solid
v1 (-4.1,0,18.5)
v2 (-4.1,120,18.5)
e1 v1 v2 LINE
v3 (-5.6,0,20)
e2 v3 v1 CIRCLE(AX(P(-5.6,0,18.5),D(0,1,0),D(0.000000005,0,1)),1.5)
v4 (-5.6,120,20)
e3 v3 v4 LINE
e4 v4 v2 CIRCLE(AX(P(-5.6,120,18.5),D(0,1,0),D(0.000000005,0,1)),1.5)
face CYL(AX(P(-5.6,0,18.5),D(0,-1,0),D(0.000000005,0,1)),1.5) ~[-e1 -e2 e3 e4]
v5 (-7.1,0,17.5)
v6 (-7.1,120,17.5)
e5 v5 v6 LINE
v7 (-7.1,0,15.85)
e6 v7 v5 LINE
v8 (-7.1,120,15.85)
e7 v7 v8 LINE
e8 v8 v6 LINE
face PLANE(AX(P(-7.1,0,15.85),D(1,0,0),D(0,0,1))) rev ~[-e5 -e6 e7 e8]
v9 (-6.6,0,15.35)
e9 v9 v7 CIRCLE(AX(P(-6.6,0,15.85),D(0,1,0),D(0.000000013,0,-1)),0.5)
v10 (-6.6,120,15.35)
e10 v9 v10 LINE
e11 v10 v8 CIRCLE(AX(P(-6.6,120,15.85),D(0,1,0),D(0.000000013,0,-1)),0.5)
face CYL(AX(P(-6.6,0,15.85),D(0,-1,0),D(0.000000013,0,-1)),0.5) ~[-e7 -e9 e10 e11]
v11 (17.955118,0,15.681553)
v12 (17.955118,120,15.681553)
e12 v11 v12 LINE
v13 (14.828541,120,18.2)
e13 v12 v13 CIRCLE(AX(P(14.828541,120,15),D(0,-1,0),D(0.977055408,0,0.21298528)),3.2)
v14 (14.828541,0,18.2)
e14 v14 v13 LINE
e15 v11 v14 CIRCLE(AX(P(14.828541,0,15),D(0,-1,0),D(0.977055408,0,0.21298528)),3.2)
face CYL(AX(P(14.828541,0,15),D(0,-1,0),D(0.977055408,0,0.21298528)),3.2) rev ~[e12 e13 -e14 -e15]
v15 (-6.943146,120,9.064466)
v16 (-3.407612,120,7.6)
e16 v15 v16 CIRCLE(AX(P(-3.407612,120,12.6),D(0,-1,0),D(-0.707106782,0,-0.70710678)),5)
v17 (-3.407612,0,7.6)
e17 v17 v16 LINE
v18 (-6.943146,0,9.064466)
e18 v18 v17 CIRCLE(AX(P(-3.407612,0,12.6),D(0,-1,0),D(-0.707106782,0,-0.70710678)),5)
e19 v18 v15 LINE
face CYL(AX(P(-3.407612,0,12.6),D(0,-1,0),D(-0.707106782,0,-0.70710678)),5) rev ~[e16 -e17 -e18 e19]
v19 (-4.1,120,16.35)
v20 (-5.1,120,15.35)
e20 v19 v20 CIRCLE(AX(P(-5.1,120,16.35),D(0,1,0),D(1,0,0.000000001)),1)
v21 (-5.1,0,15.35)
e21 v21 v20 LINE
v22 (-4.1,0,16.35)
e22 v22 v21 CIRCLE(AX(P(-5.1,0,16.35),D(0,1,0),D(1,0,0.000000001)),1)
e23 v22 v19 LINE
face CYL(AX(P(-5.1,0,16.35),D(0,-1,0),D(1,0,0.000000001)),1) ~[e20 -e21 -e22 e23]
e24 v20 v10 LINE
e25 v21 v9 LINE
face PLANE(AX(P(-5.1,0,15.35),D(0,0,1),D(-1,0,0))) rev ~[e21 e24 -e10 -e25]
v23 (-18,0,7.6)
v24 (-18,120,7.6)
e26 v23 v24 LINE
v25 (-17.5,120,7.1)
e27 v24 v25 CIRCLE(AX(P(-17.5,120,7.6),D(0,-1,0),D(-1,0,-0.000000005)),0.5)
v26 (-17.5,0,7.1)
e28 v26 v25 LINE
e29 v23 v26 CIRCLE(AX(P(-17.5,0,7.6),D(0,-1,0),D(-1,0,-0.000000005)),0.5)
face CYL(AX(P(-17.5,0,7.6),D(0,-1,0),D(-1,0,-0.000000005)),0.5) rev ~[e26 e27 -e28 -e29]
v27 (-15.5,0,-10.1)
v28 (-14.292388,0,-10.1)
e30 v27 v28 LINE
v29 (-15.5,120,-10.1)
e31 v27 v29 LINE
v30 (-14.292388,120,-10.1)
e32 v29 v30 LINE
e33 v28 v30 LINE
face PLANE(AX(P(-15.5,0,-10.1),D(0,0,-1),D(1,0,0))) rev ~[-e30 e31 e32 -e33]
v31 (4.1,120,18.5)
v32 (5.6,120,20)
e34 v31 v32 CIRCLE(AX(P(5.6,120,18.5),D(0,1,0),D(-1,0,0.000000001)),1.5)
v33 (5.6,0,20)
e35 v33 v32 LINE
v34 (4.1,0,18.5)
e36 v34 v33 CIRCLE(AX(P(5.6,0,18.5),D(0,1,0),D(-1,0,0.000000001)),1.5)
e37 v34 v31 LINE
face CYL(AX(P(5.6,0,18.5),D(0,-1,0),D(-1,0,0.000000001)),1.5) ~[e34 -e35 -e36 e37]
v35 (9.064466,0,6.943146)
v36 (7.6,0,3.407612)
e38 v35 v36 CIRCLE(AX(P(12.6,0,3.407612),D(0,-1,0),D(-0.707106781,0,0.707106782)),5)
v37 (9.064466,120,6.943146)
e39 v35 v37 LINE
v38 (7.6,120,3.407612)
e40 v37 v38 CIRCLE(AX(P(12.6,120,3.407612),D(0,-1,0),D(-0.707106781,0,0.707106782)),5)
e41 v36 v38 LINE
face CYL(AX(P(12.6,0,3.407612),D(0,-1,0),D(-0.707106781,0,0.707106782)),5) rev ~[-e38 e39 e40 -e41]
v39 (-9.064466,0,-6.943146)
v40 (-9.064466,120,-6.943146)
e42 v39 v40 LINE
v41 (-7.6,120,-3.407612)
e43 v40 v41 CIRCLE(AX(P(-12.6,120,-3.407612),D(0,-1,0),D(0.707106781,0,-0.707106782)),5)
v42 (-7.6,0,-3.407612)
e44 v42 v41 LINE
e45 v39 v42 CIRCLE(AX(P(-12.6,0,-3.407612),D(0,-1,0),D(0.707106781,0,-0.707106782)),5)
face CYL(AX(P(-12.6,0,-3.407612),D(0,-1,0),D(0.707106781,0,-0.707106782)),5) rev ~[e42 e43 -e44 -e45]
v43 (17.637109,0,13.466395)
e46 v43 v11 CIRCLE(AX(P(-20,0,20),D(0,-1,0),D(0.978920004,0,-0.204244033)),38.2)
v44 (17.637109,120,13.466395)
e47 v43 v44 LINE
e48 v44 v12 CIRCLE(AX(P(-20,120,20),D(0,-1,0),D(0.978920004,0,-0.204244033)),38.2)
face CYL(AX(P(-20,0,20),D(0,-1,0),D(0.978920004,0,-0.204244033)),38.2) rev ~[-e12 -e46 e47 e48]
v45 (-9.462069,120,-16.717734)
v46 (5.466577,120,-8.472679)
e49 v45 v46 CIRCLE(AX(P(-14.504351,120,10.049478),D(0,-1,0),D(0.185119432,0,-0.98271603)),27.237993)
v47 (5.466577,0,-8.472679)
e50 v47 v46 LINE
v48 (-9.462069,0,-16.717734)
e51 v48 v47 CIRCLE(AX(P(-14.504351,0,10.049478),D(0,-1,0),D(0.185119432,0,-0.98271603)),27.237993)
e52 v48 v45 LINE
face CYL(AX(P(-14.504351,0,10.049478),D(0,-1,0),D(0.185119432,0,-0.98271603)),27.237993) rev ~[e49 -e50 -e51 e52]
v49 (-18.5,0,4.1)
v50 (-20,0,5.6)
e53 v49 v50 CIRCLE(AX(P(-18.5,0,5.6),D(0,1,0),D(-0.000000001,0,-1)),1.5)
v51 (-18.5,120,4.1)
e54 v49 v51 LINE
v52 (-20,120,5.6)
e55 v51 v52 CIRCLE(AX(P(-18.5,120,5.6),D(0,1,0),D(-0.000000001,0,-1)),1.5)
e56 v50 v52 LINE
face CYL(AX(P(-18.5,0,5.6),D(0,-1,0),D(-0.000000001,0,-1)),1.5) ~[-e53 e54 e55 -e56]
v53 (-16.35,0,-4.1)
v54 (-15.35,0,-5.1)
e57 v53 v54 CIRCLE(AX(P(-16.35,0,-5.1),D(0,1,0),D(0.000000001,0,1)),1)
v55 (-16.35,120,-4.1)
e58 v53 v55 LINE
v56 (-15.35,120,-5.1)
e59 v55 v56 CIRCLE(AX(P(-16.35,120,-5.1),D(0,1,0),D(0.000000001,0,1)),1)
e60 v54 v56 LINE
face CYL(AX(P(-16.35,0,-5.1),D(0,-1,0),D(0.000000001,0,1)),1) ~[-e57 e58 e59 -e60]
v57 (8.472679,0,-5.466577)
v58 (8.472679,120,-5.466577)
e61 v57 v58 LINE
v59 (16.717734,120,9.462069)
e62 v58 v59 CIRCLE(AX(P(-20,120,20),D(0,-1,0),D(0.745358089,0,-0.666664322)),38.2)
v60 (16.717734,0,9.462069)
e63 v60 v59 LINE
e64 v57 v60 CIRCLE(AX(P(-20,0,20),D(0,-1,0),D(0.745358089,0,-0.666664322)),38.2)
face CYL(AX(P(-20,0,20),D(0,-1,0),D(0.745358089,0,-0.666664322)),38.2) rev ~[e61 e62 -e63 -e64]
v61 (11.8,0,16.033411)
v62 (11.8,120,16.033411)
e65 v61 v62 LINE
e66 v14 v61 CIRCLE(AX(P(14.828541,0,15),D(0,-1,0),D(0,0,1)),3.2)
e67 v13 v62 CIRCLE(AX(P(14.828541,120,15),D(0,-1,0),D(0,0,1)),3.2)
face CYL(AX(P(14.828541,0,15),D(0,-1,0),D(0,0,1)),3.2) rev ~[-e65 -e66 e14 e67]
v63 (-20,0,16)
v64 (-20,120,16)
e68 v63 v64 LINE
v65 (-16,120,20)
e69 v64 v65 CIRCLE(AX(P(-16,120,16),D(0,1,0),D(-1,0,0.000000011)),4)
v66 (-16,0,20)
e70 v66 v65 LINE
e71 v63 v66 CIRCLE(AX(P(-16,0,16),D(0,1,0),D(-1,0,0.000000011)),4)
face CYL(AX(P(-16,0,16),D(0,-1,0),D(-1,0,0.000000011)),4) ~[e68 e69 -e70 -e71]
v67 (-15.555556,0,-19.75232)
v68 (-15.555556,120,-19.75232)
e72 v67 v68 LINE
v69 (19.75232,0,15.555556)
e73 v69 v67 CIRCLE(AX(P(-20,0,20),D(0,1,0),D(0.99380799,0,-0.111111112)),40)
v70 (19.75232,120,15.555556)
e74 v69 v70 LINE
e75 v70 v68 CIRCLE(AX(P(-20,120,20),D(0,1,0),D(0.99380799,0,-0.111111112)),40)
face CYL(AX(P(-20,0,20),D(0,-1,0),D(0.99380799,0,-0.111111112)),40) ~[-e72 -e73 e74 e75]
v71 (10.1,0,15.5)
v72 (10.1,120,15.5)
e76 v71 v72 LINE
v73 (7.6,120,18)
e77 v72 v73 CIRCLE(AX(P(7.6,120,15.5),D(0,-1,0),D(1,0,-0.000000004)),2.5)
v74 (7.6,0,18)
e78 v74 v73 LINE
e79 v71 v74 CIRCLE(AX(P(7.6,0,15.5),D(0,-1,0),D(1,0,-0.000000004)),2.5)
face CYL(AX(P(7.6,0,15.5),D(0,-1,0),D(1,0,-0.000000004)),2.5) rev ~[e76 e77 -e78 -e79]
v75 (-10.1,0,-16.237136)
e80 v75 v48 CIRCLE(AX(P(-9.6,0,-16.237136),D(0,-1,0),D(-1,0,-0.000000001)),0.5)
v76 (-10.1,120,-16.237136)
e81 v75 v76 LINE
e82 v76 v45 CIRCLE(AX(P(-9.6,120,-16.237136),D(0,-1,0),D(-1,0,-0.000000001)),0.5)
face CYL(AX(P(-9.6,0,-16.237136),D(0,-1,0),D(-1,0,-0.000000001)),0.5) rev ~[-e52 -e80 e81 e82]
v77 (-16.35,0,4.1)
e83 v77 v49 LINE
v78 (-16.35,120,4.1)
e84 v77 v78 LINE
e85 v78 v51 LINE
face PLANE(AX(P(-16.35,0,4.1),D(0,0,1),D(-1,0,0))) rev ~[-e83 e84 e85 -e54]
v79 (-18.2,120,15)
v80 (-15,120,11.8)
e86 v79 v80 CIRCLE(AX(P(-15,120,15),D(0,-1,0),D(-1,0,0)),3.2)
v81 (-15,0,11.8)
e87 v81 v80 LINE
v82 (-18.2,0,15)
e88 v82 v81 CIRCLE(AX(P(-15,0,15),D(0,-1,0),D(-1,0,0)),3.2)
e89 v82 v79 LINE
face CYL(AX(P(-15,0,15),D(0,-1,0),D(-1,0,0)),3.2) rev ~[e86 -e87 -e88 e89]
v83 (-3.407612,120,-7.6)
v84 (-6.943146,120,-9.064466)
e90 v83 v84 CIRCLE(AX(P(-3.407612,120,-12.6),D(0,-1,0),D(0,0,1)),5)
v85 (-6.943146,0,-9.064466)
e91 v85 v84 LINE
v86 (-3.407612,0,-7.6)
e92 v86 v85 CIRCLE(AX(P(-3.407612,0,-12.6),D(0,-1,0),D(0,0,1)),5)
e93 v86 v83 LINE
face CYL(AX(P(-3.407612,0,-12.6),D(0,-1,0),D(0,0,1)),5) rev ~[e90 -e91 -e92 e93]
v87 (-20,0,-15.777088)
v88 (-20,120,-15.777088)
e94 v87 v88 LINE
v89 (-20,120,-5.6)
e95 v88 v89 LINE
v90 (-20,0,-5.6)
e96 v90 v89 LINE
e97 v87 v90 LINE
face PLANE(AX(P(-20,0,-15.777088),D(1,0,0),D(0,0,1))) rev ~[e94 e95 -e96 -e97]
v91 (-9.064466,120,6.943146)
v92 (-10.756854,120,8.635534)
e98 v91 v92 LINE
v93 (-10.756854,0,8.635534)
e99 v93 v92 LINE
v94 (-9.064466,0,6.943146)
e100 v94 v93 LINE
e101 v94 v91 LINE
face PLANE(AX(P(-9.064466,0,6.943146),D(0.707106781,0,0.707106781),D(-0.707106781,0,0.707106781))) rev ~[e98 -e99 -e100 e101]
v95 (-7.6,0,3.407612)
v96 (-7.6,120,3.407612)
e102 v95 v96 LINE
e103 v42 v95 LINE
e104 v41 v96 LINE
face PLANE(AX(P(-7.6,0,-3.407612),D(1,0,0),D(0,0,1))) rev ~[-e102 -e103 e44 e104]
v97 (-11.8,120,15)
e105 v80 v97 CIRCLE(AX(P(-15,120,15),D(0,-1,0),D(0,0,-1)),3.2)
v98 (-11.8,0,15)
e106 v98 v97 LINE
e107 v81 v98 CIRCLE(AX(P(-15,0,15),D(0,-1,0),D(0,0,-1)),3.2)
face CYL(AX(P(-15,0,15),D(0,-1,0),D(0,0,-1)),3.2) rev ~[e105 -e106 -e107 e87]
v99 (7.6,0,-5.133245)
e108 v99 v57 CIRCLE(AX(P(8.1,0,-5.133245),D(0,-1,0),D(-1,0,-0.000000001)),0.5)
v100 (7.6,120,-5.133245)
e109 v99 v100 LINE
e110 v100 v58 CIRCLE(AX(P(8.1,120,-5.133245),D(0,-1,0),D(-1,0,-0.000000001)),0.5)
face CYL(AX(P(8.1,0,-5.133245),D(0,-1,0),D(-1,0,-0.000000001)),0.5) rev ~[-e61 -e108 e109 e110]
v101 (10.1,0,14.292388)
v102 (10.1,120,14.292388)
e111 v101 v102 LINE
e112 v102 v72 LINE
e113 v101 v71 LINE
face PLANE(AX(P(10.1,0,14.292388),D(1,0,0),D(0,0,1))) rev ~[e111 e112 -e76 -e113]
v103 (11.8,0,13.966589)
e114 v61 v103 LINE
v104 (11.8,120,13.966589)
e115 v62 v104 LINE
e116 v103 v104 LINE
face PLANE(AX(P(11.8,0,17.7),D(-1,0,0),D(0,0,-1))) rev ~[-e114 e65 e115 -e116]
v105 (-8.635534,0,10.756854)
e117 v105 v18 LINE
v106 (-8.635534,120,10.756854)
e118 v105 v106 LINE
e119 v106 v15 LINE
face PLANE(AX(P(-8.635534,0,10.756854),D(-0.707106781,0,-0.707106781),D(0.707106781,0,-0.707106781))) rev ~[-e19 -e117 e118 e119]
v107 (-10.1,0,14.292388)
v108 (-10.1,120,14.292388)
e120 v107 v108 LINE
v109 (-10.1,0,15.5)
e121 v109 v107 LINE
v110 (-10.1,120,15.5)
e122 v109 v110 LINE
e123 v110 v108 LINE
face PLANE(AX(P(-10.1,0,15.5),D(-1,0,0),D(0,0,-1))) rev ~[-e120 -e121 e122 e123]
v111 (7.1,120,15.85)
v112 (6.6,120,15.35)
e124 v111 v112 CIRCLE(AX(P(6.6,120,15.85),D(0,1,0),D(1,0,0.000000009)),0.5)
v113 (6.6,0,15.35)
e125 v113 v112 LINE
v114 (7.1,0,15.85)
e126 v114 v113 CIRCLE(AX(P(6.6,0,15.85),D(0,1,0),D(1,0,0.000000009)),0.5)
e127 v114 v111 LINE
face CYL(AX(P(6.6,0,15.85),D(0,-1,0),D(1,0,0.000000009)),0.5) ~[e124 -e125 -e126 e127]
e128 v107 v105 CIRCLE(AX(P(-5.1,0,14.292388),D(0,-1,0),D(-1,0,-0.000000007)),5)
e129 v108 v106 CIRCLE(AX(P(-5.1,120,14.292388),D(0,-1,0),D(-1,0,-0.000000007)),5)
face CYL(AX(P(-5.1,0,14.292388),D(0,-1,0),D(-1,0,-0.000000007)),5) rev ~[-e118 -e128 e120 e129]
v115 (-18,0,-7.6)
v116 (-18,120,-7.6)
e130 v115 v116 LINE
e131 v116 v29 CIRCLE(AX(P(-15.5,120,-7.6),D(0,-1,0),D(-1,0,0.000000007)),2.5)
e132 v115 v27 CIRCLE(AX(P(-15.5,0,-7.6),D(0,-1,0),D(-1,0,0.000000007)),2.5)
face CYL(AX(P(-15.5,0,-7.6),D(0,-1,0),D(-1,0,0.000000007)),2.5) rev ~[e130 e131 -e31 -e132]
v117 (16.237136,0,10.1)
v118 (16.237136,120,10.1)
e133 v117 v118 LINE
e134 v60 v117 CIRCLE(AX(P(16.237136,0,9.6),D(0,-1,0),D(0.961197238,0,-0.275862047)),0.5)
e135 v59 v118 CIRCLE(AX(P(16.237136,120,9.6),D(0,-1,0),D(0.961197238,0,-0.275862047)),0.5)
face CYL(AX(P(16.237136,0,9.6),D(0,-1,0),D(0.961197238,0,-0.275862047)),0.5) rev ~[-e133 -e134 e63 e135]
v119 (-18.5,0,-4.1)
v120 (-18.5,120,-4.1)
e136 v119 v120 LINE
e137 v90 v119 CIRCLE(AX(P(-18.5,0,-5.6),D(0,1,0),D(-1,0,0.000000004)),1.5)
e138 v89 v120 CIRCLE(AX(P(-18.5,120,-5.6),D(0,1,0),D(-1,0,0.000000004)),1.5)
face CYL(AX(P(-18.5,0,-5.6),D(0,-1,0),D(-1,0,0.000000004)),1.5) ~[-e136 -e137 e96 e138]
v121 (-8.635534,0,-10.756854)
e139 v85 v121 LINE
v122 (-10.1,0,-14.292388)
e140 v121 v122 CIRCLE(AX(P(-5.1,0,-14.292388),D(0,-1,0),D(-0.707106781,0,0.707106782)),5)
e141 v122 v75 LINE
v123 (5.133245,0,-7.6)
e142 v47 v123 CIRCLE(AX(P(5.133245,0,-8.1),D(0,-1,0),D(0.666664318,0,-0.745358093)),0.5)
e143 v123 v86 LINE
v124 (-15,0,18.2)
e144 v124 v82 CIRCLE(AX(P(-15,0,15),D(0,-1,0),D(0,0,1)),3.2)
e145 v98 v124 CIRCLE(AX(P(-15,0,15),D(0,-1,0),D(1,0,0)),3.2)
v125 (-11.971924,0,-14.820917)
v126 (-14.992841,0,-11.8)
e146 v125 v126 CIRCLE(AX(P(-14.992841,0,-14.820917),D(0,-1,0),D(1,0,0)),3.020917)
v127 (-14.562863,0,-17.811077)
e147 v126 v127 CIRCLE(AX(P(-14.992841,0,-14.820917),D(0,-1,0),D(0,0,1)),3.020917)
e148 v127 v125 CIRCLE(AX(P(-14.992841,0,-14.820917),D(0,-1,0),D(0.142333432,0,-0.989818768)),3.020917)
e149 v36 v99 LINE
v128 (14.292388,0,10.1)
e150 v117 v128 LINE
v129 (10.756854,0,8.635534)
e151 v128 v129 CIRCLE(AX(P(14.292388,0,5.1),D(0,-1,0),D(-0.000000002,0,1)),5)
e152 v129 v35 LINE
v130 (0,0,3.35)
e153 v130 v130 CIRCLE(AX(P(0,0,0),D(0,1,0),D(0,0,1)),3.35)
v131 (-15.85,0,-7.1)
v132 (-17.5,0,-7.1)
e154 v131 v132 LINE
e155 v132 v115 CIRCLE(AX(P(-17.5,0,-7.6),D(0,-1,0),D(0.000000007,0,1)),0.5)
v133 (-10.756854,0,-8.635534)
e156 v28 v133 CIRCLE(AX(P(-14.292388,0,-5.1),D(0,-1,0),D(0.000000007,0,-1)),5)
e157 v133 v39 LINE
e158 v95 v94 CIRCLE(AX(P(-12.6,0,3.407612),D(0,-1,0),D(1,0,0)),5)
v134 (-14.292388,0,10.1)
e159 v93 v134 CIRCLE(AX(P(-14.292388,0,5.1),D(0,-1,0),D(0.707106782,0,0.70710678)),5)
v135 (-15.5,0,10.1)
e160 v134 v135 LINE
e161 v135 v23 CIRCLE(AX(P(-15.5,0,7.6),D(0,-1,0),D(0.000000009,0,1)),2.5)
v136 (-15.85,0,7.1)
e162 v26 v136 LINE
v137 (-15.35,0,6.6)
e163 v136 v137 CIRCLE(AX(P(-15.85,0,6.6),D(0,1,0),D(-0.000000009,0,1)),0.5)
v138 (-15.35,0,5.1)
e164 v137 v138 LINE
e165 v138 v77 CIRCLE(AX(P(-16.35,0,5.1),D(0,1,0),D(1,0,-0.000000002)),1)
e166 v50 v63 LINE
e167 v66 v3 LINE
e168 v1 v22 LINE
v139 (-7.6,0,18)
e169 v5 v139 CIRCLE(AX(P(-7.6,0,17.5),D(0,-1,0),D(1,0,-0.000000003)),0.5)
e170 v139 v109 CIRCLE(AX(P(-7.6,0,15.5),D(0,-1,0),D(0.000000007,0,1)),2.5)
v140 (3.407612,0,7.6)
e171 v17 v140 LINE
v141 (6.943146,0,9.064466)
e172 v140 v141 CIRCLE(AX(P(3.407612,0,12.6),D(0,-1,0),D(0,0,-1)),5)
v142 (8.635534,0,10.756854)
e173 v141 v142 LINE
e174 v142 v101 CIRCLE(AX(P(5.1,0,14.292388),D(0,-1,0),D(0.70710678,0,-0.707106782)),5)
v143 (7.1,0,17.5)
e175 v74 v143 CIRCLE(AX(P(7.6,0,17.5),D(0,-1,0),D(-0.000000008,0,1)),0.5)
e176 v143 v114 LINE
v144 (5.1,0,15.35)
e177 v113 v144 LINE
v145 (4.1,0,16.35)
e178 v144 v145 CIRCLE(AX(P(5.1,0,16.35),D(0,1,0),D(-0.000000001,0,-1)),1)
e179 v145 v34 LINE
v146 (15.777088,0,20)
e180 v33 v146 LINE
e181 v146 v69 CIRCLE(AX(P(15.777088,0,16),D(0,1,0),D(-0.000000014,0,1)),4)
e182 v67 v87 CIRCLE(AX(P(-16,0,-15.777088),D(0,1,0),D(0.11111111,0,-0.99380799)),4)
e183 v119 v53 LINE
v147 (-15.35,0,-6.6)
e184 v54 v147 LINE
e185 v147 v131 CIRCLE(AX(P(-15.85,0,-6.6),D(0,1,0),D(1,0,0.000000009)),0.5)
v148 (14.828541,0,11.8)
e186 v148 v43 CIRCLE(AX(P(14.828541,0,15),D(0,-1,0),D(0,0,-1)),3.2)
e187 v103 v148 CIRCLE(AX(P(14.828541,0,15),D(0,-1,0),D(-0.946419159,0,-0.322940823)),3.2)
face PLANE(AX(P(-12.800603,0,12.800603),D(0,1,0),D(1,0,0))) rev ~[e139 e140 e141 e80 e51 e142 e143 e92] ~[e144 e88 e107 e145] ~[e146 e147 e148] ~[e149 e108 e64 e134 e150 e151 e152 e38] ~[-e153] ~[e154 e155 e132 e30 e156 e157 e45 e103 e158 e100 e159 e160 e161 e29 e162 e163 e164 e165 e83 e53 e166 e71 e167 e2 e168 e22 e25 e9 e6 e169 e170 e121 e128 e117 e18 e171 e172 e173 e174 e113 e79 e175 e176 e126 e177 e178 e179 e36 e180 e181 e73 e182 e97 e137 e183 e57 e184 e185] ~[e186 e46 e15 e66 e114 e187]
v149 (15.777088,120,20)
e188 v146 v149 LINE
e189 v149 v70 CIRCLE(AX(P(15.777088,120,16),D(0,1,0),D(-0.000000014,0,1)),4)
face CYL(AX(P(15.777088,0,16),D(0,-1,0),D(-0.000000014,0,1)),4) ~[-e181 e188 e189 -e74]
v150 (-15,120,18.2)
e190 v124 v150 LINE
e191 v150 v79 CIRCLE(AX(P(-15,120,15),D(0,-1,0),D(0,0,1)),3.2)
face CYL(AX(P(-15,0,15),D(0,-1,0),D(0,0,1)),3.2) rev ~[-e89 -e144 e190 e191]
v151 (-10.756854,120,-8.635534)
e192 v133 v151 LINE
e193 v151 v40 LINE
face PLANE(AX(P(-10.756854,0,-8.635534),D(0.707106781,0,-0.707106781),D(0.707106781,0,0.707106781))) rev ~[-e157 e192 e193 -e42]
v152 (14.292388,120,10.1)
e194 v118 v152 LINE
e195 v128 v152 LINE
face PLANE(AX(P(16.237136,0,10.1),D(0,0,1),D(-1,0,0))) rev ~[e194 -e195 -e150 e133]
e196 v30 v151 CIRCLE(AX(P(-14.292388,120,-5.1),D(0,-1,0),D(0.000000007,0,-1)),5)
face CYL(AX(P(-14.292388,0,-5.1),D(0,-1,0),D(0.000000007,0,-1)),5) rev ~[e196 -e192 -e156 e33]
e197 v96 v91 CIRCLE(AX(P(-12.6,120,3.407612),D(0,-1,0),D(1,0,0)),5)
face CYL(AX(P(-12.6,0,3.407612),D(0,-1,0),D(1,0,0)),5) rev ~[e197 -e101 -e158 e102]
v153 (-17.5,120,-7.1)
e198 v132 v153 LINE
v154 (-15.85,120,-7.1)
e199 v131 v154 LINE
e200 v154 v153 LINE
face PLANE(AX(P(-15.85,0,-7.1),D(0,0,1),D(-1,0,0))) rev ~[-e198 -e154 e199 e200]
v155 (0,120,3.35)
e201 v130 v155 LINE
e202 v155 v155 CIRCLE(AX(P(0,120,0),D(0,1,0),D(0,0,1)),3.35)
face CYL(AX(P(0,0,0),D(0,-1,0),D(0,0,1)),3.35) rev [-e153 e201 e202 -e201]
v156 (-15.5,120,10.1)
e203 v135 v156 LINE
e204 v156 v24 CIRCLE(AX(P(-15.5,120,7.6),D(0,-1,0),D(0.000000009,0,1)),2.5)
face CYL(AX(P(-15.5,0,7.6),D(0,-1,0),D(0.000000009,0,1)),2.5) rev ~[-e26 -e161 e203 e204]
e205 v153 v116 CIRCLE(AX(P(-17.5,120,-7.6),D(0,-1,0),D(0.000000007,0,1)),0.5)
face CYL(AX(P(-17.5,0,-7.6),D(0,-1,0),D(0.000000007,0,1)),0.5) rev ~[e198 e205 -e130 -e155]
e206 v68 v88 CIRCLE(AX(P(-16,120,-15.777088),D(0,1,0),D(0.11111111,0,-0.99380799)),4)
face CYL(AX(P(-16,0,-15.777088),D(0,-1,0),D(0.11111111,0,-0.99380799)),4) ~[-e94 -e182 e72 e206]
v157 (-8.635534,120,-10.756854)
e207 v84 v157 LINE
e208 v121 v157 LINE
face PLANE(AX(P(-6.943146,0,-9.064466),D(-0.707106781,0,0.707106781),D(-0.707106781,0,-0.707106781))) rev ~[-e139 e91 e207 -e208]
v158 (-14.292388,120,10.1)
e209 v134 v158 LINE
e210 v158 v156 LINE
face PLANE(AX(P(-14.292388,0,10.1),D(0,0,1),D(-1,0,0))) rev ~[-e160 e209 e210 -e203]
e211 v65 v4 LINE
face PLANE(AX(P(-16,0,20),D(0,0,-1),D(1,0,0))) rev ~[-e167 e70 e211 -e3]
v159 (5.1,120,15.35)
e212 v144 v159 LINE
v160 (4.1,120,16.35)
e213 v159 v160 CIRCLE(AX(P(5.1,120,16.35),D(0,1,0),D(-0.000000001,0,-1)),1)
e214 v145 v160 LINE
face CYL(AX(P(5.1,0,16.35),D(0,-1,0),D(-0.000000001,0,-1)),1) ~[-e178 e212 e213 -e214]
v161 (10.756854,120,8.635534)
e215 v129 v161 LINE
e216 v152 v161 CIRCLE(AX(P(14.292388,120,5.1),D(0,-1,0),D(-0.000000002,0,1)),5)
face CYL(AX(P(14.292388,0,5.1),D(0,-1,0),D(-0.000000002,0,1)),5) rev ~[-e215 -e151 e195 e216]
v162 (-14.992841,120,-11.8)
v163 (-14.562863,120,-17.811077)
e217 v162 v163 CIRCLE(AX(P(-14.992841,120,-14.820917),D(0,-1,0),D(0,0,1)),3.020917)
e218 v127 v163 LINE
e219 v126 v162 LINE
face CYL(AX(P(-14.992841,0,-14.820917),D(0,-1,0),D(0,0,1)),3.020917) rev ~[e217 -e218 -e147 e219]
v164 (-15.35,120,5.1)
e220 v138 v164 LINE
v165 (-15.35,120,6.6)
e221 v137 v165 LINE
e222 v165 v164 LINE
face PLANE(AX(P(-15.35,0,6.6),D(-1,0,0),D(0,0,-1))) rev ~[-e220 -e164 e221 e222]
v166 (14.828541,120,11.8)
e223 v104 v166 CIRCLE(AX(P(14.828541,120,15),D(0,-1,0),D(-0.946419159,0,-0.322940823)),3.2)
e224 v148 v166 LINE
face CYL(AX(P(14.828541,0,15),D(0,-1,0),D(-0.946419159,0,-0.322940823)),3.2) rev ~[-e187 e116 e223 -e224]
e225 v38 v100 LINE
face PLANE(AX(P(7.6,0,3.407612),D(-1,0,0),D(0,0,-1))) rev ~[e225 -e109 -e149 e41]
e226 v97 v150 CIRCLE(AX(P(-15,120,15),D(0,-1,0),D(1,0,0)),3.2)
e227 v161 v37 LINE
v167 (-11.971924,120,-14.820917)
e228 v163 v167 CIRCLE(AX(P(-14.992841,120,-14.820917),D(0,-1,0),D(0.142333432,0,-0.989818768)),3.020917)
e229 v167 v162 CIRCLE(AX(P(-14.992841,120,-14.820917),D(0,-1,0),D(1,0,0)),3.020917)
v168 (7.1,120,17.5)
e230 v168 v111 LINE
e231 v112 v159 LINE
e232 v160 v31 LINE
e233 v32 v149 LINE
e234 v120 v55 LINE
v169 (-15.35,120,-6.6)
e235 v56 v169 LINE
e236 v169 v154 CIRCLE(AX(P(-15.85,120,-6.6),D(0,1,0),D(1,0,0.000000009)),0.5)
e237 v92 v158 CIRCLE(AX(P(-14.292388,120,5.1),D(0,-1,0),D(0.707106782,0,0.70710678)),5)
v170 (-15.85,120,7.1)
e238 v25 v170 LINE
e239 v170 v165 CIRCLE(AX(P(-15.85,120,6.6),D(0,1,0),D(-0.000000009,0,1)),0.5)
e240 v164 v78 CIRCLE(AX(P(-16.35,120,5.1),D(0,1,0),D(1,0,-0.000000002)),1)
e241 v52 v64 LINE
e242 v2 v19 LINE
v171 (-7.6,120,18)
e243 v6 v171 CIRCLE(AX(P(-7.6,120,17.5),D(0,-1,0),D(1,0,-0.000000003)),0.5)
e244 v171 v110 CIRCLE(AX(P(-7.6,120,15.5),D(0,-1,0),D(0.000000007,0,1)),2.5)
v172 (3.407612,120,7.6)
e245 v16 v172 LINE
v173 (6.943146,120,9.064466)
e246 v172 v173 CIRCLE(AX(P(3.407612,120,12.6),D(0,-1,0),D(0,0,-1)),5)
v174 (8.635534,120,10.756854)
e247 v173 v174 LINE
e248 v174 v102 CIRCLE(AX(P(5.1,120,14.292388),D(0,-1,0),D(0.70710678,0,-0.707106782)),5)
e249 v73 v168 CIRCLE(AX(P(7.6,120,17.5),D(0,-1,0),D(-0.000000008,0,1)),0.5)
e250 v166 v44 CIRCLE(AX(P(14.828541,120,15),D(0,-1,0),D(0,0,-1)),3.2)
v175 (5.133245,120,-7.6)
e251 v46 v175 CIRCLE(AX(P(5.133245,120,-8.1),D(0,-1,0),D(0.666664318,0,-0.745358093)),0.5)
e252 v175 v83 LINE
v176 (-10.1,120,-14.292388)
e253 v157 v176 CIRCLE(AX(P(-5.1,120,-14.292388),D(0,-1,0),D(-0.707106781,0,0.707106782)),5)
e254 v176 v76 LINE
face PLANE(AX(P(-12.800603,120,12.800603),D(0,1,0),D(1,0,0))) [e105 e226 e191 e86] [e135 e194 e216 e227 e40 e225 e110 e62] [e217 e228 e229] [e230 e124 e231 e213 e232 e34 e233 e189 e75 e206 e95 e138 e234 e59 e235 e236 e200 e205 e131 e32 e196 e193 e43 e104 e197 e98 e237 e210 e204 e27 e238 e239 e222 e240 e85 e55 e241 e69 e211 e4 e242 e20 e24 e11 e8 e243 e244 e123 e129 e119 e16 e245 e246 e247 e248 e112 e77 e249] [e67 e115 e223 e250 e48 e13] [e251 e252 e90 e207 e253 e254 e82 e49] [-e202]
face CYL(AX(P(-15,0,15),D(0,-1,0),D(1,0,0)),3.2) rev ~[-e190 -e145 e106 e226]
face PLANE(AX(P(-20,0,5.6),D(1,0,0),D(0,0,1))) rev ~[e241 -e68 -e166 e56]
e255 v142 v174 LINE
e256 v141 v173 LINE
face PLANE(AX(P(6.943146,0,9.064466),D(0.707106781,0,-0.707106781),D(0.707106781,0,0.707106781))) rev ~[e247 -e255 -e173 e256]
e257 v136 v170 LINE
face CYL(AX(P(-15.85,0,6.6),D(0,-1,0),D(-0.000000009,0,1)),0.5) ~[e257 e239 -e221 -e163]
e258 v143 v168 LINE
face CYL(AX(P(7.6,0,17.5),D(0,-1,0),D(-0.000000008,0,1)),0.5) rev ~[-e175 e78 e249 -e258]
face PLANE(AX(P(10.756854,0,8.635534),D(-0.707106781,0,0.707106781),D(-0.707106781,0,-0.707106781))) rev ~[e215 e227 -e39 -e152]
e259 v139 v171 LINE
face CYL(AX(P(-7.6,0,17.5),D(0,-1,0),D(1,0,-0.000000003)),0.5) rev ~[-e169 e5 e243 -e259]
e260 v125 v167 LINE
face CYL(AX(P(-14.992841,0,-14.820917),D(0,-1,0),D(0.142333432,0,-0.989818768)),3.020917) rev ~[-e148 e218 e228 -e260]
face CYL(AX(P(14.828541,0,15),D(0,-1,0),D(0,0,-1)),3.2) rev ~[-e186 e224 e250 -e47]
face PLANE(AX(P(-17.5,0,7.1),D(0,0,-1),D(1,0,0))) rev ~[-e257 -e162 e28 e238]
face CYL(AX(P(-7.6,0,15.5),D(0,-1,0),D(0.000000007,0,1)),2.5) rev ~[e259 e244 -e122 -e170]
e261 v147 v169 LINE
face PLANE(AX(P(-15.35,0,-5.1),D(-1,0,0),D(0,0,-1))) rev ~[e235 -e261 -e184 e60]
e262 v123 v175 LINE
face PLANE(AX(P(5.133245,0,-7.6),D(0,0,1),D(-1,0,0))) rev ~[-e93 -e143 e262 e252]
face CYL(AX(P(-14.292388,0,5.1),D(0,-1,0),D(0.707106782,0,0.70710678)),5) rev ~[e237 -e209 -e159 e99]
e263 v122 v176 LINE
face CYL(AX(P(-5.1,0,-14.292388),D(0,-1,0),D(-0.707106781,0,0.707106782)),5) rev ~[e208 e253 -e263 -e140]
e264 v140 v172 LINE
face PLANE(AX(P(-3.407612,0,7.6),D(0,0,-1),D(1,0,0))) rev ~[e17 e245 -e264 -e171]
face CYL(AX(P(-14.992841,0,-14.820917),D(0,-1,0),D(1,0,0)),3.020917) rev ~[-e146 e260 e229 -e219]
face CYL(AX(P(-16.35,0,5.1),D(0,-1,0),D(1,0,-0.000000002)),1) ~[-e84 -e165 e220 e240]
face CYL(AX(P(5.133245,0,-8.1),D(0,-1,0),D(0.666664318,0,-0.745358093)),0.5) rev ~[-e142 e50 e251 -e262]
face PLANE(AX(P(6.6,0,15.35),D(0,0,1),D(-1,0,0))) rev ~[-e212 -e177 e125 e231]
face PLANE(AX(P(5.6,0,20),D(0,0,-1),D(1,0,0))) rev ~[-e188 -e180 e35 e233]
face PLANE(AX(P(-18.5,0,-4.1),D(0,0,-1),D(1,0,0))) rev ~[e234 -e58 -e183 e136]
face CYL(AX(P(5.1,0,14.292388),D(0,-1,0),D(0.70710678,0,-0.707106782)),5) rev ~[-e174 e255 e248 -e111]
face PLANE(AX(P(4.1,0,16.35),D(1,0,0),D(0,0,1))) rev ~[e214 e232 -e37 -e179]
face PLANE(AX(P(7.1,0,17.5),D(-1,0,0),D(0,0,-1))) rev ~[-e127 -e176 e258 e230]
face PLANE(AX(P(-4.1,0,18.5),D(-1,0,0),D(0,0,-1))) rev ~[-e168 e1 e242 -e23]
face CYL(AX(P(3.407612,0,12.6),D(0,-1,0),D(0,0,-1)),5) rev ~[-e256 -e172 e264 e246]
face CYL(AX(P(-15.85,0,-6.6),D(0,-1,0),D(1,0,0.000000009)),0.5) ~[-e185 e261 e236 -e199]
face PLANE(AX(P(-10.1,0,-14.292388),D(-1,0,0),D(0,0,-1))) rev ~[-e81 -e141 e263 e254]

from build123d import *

# Parameters (mm, degrees)
CROQUIS1_R              = 3.35
SALIENTE_EXTRUIR1_DEPTH = 120
SALIENTE_EXTRUIR2_START = -120
SALIENTE_EXTRUIR2_DEPTH = 120


with BuildPart() as part:
    # Croquis1 → Saliente-Extruir1 (new body)
    with BuildSketch(Plane(origin=(0, 0, 0), x_dir=(1, 0, 0), z_dir=(0, 1, 0))):
        with BuildLine():
            Line((4.099999986, -16.349999949), (4.099999986, -18.499999949))
            ThreePointArc((4.099999986, -18.499999949), (4.539339815, -19.560660121), (5.599999987, -19.999999949))
            Line((5.599999987, -19.999999949), (15.777087623, -19.999999949))
            ThreePointArc((15.777087623, -19.999999949), (18.758511608, -18.66666665), (19.752319619, -15.555555546))
            ThreePointArc((19.752319619, -15.555555546), (8.284271243, 8.284271252), (-15.555555578, 19.752319582))
            ThreePointArc((-15.555555578, 19.752319582), (-18.666666685, 18.758511591), (-20.000000016, 15.777087623))
            Line((-20.000000016, 15.777087623), (-20.000000016, 5.599999985))
            ThreePointArc((-20.000000016, 5.599999985), (-19.560660185, 4.539339815), (-18.500000013, 4.099999988))
            Line((-18.500000013, 4.099999988), (-16.350000012, 4.099999988))
            ThreePointArc((-16.350000012, 4.099999988), (-15.642893231, 4.392893207), (-15.350000012, 5.099999988))
            Line((-15.350000012, 5.099999988), (-15.350000012, 6.599999984))
            ThreePointArc((-15.350000012, 6.599999984), (-15.49644662, 6.953553378), (-15.850000012, 7.099999989))
            Line((-15.850000012, 7.099999989), (-17.500000009, 7.099999989))
            ThreePointArc((-17.500000009, 7.099999989), (-17.853553401, 7.246446596), (-18.000000013, 7.599999985))
            ThreePointArc((-18.000000013, 7.599999985), (-17.267766972, 9.36776695), (-15.500000013, 10.100000003))
            Line((-15.500000013, 10.100000003), (-14.292388135, 10.100000003))
            ThreePointArc((-14.292388135, 10.100000003), (-12.378970991, 9.719397659), (-10.756854262, 8.635533909))
            Line((-10.756854262, 8.635533909), (-9.064466108, 6.943145756))
            ThreePointArc((-9.064466108, 6.943145756), (-7.980602349, 5.32102901), (-7.60000001, 3.407611846))
            Line((-7.60000001, 3.407611846), (-7.60000001, -3.407611843))
            ThreePointArc((-7.60000001, -3.407611843), (-7.980602347, -5.321029004), (-9.064466104, -6.943145748))
            Line((-9.064466104, -6.943145748), (-10.756854257, -8.635533901))
            ThreePointArc((-10.756854257, -8.635533901), (-12.378971003, -9.719397661), (-14.292388167, -10.099999999))
            Line((-14.292388167, -10.099999999), (-15.499999985, -10.099999999))
            ThreePointArc((-15.499999985, -10.099999999), (-17.267766956, -9.367766956), (-18.000000007, -7.599999987))
            ThreePointArc((-18.000000007, -7.599999987), (-17.853553397, -7.246446598), (-17.500000007, -7.099999989))
            Line((-17.500000007, -7.099999989), (-15.850000011, -7.099999989))
            ThreePointArc((-15.850000011, -7.099999989), (-15.496446618, -6.953553381), (-15.350000008, -6.599999989))
            Line((-15.350000008, -6.599999989), (-15.350000008, -5.099999989))
            ThreePointArc((-15.350000008, -5.099999989), (-15.642893227, -4.392893209), (-16.350000008, -4.09999999))
            Line((-16.350000008, -4.09999999), (-18.500000008, -4.09999999))
            ThreePointArc((-18.500000008, -4.09999999), (-19.56066018, -4.539339819), (-20.000000008, -5.599999991))
            Line((-20.000000008, -5.599999991), (-20.000000008, -15.999999939))
            ThreePointArc((-20.000000008, -15.999999939), (-18.828427101, -18.828427077), (-15.999999951, -19.999999954))
            Line((-15.999999951, -19.999999954), (-5.599999986, -19.999999954))
            ThreePointArc((-5.599999986, -19.999999954), (-4.539339818, -19.560660123), (-4.099999992, -18.499999954))
            Line((-4.099999992, -18.499999954), (-4.099999992, -16.349999953))
            ThreePointArc((-4.099999992, -16.349999953), (-4.392893211, -15.642893171), (-5.099999992, -15.349999953))
            Line((-5.099999992, -15.349999953), (-6.599999988, -15.349999953))
            ThreePointArc((-6.599999988, -15.349999953), (-6.953553382, -15.49644656), (-7.099999993, -15.849999953))
            Line((-7.099999993, -15.849999953), (-7.099999993, -17.499999952))
            ThreePointArc((-7.099999993, -17.499999952), (-7.2464466, -17.853553342), (-7.599999989, -17.999999954))
            ThreePointArc((-7.599999989, -17.999999954), (-9.367766954, -17.267766913), (-10.100000007, -15.499999954))
            Line((-10.100000007, -15.499999954), (-10.100000007, -14.292388076))
            ThreePointArc((-10.100000007, -14.292388076), (-9.719397663, -12.378970931), (-8.635533913, -10.756854202))
            Line((-8.635533913, -10.756854202), (-6.94314576, -9.064466049))
            ThreePointArc((-6.94314576, -9.064466049), (-5.321029014, -7.980602289), (-3.40761185, -7.599999951))
            Line((-3.40761185, -7.599999951), (3.407611837, -7.599999951))
            ThreePointArc((3.407611837, -7.599999951), (5.321028999, -7.980602288), (6.943145744, -9.064466044))
            Line((6.943145744, -9.064466044), (8.635533897, -10.756854198))
            ThreePointArc((8.635533897, -10.756854198), (9.719397657, -12.378970943), (10.099999995, -14.292388108))
            Line((10.099999995, -14.292388108), (10.099999995, -15.499999937))
            ThreePointArc((10.099999995, -15.499999937), (9.367766948, -17.267766901), (7.599999983, -17.999999948))
            ThreePointArc((7.599999983, -17.999999948), (7.246446594, -17.853553337), (7.099999985, -17.499999948))
            Line((7.099999985, -17.499999948), (7.099999985, -15.849999952))
            ThreePointArc((7.099999985, -15.849999952), (6.953553377, -15.496446559), (6.599999985, -15.349999949))
            Line((6.599999985, -15.349999949), (5.099999986, -15.349999949))
            ThreePointArc((5.099999986, -15.349999949), (4.392893205, -15.642893168), (4.099999986, -16.349999949))
        make_face()
        with Locations(Location((0, 0, 0), (0, 0, 270))):
            Circle(CROQUIS1_R, mode=Mode.SUBTRACT)
        with BuildLine():
            Line((-18.200000016, 12.299999981), (-18.200000016, 15.777087623))
            ThreePointArc((-18.200000016, 15.777087623), (-17.466666684, 17.416870805), (-15.755555575, 17.963465201))
            ThreePointArc((-15.755555575, 17.963465201), (-13.970008189, 17.721071), (-12.197878052, 17.394744174))
            ThreePointArc((-12.197878052, 17.394744174), (-11.91201741, 17.22067196), (-11.800000067, 16.905284013))
            Line((-11.800000067, 16.905284013), (-11.800000067, 12.299999704))
            ThreePointArc((-11.800000067, 12.299999704), (-11.946446503, 11.946446622), (-12.299999521, 11.800000031))
            Line((-12.299999521, 11.800000031), (-17.700000056, 11.800000031))
            ThreePointArc((-17.700000056, 11.800000031), (-18.053553418, 11.946446622), (-18.200000016, 12.299999981))
        make_face(mode=Mode.SUBTRACT)
        with BuildLine():
            Line((11.800000005, -17.699999962), (11.800000005, -12.299999803))
            ThreePointArc((11.800000005, -12.299999803), (11.946446442, -11.946446721), (12.299999459, -11.80000013))
            Line((12.299999459, -11.80000013), (16.905284227, -11.80000013))
            ThreePointArc((16.905284227, -11.80000013), (17.220672032, -11.912017476), (17.394744196, -12.197877993))
            ThreePointArc((17.394744196, -12.197877993), (17.721071033, -13.970008163), (17.963465241, -15.755555583))
            ThreePointArc((17.963465241, -15.755555583), (17.416870817, -17.466666655), (15.777087646, -18.199999948))
            Line((15.777087646, -18.199999948), (12.300000016, -18.199999948))
            ThreePointArc((12.300000016, -18.199999948), (11.946446626, -18.053553344), (11.800000005, -17.699999962))
        make_face(mode=Mode.SUBTRACT)
        with BuildLine():
            Line((-18.200000037, -15.999999938), (-18.200000037, -12.29999998))
            ThreePointArc((-18.200000037, -12.29999998), (-18.053553433, -11.94644659), (-17.70000005, -11.799999969))
            Line((-17.70000005, -11.799999969), (-12.299999814, -11.799999969))
            ThreePointArc((-12.299999814, -11.799999969), (-11.946446646, -11.946446393), (-11.800000043, -12.299999487))
            Line((-11.800000043, -12.299999487), (-11.800000043, -17.700000023))
            ThreePointArc((-11.800000043, -17.700000023), (-11.946446635, -18.053553384), (-12.299999994, -18.199999983))
            Line((-12.299999994, -18.199999983), (-15.999999951, -18.199999983))
            ThreePointArc((-15.999999951, -18.199999983), (-17.555634915, -17.555634891), (-18.200000037, -15.999999938))
        make_face(mode=Mode.SUBTRACT)
        with BuildLine():
            Line((-10.100000018, 14.292388152), (-10.100000018, 16.237135643))
            ThreePointArc((-10.100000018, 16.237135643), (-9.900860854, 16.636488564), (-9.462068989, 16.717734255))
            ThreePointArc((-9.462068989, 16.717734255), (-1.335812596, 13.79371517), (5.466577064, 8.472679041))
            ThreePointArc((5.466577064, 8.472679041), (5.600331365, 7.921589685), (5.133244904, 7.599999995))
            Line((5.133244904, 7.599999995), (-3.407611859, 7.599999995))
            ThreePointArc((-3.407611859, 7.599999995), (-5.321029022, 7.980602332), (-6.943145766, 9.064466088))
            Line((-6.943145766, 9.064466088), (-8.63553392, 10.756854242))
            ThreePointArc((-8.63553392, 10.756854242), (-9.719397679, 12.378970987), (-10.100000018, 14.292388152))
        make_face(mode=Mode.SUBTRACT)
        with BuildLine():
            Line((16.237135661, -10.099999987), (14.292388142, -10.099999987))
            ThreePointArc((14.292388142, -10.099999987), (12.378970987, -9.719397647), (10.75685425, -8.635533892))
            Line((10.75685425, -8.635533892), (9.064466096, -6.943145739))
            ThreePointArc((9.064466096, -6.943145739), (7.980602337, -5.321028994), (7.599999998, -3.407611829))
            Line((7.599999998, -3.407611829), (7.599999998, 5.133244926))
            ThreePointArc((7.599999998, 5.133244926), (7.921589687, 5.600331384), (8.472679039, 5.466577086))
            ThreePointArc((8.472679039, 5.466577086), (13.438953564, -1.531746557), (16.71773428, -9.462068964))
            ThreePointArc((16.71773428, -9.462068964), (16.636488582, -9.900860826), (16.237135661, -10.099999987))
        make_face(mode=Mode.SUBTRACT)
    extrude(amount=SALIENTE_EXTRUIR1_DEPTH)

    # Croquis2 → Saliente-Extruir2 (add)
    with BuildSketch(Plane(origin=(0, 120, 0), x_dir=(1, 0, 0), z_dir=(0, 1, 0)).offset(SALIENTE_EXTRUIR2_START)):
        with BuildLine():
            ThreePointArc((-15.00000005, -11.799999969), (-12.737258345, -12.737258271), (-11.800000043, -14.999999976))
            Line((-11.800000043, -14.999999976), (-11.800000043, -12.299999487))
            ThreePointArc((-11.800000043, -12.299999487), (-11.946446646, -11.946446393), (-12.299999814, -11.799999969))
            Line((-12.299999814, -11.799999969), (-15.00000005, -11.799999969))
        make_face()
        with BuildLine():
            ThreePointArc((-11.800000043, -14.999999976), (-12.737258345, -17.26274168), (-15.00000005, -18.199999983))
            Line((-15.00000005, -18.199999983), (-12.299999994, -18.199999983))
            ThreePointArc((-12.299999994, -18.199999983), (-11.946446635, -18.053553384), (-11.800000043, -17.700000023))
            Line((-11.800000043, -17.700000023), (-11.800000043, -14.999999976))
        make_face()
        with BuildLine():
            ThreePointArc((-18.200000037, -15.999999938), (-17.555634915, -17.555634891), (-15.999999951, -18.199999983))
            Line((-15.999999951, -18.199999983), (-15.00000005, -18.199999983))
            ThreePointArc((-15.00000005, -18.199999983), (-17.262741755, -17.26274168), (-18.200000057, -14.999999976))
            Line((-18.200000037, -14.999999976), (-18.200000037, -15.999999938))
        make_face()
        with BuildLine():
            Line((-18.200000037, -12.29999998), (-18.200000037, -14.999999976))
            ThreePointArc((-18.200000057, -14.999999976), (-17.262741755, -12.737258271), (-15.00000005, -11.799999969))
            Line((-15.00000005, -11.799999969), (-17.70000005, -11.799999969))
            ThreePointArc((-17.70000005, -11.799999969), (-18.053553433, -11.94644659), (-18.200000037, -12.29999998))
        make_face()
        with BuildLine():
            ThreePointArc((-15.755555575, 17.963465201), (-17.466666684, 17.416870805), (-18.200000016, 15.777087623))
            Line((-18.200000016, 15.777087623), (-18.200000016, 12.299999981))
            ThreePointArc((-18.200000016, 12.299999981), (-18.053553418, 11.946446622), (-17.700000056, 11.800000031))
            Line((-17.700000056, 11.800000031), (-14.992840663, 11.800000031))
            ThreePointArc((-14.992840663, 11.800000031), (-18.006058488, 15.03645487), (-14.562863205, 17.811076975))
            ThreePointArc((-14.562863205, 17.811076975), (-15.158609779, 17.891964046), (-15.755555575, 17.963465201))
        make_face()
        with BuildLine():
            ThreePointArc((-12.197878052, 17.394744174), (-13.37709835, 17.621498805), (-14.562863205, 17.811076975))
            ThreePointArc((-14.562863205, 17.811076975), (-12.709765496, 16.799175178), (-11.971923864, 14.82091683))
            ThreePointArc((-11.971923864, 14.82091683), (-12.856729909, 12.684806076), (-14.992840663, 11.800000031))
            Line((-14.992840663, 11.800000031), (-12.299999521, 11.800000031))
            ThreePointArc((-12.299999521, 11.800000031), (-11.946446503, 11.946446622), (-11.800000067, 12.299999704))
            Line((-11.800000067, 12.299999704), (-11.800000067, 16.905284013))
            ThreePointArc((-11.800000067, 16.905284013), (-11.91201741, 17.22067196), (-12.197878052, 17.394744174))
        make_face()
        with BuildLine():
            Line((16.905284227, -11.80000013), (14.828541229, -11.80000013))
            ThreePointArc((14.828541229, -11.80000013), (16.461401303, -12.247952184), (17.637109474, -13.466395191))
            ThreePointArc((17.637109474, -13.466395191), (17.521287961, -12.831112285), (17.394744196, -12.197877993))
            ThreePointArc((17.394744196, -12.197877993), (17.220672032, -11.912017476), (16.905284227, -11.80000013))
        make_face()
        with BuildLine():
            Line((11.800000005, -12.299999803), (11.800000005, -13.966589436))
            ThreePointArc((11.800000005, -13.966589436), (12.966675823, -12.397413513), (14.828541229, -11.80000013))
            Line((14.828541229, -11.80000013), (12.299999459, -11.80000013))
            ThreePointArc((12.299999459, -11.80000013), (11.946446442, -11.946446721), (11.800000005, -12.299999803))
        make_face()
        with BuildLine():
            ThreePointArc((11.800000005, -17.699999962), (11.946446626, -18.053553344), (12.300000016, -18.199999948))
            Line((12.300000016, -18.199999948), (14.828541229, -18.199999948))
            ThreePointArc((14.828541229, -18.199999948), (12.966675823, -17.602586565), (11.800000005, -16.033410642))
            Line((11.800000005, -16.033410642), (11.800000005, -17.699999962))
        make_face()
        with BuildLine():
            ThreePointArc((17.955118446, -15.681552916), (16.835906452, -17.492084364), (14.828541229, -18.199999948))
            Line((14.828541229, -18.199999948), (15.777087646, -18.199999948))
            ThreePointArc((15.777087646, -18.199999948), (17.416870817, -17.466666655), (17.963465241, -15.755555583))
            ThreePointArc((17.963465241, -15.755555583), (17.959309877, -15.718552215), (17.955118446, -15.681552916))
        make_face()
    extrude(amount=SALIENTE_EXTRUIR2_DEPTH)


solid = part.part
